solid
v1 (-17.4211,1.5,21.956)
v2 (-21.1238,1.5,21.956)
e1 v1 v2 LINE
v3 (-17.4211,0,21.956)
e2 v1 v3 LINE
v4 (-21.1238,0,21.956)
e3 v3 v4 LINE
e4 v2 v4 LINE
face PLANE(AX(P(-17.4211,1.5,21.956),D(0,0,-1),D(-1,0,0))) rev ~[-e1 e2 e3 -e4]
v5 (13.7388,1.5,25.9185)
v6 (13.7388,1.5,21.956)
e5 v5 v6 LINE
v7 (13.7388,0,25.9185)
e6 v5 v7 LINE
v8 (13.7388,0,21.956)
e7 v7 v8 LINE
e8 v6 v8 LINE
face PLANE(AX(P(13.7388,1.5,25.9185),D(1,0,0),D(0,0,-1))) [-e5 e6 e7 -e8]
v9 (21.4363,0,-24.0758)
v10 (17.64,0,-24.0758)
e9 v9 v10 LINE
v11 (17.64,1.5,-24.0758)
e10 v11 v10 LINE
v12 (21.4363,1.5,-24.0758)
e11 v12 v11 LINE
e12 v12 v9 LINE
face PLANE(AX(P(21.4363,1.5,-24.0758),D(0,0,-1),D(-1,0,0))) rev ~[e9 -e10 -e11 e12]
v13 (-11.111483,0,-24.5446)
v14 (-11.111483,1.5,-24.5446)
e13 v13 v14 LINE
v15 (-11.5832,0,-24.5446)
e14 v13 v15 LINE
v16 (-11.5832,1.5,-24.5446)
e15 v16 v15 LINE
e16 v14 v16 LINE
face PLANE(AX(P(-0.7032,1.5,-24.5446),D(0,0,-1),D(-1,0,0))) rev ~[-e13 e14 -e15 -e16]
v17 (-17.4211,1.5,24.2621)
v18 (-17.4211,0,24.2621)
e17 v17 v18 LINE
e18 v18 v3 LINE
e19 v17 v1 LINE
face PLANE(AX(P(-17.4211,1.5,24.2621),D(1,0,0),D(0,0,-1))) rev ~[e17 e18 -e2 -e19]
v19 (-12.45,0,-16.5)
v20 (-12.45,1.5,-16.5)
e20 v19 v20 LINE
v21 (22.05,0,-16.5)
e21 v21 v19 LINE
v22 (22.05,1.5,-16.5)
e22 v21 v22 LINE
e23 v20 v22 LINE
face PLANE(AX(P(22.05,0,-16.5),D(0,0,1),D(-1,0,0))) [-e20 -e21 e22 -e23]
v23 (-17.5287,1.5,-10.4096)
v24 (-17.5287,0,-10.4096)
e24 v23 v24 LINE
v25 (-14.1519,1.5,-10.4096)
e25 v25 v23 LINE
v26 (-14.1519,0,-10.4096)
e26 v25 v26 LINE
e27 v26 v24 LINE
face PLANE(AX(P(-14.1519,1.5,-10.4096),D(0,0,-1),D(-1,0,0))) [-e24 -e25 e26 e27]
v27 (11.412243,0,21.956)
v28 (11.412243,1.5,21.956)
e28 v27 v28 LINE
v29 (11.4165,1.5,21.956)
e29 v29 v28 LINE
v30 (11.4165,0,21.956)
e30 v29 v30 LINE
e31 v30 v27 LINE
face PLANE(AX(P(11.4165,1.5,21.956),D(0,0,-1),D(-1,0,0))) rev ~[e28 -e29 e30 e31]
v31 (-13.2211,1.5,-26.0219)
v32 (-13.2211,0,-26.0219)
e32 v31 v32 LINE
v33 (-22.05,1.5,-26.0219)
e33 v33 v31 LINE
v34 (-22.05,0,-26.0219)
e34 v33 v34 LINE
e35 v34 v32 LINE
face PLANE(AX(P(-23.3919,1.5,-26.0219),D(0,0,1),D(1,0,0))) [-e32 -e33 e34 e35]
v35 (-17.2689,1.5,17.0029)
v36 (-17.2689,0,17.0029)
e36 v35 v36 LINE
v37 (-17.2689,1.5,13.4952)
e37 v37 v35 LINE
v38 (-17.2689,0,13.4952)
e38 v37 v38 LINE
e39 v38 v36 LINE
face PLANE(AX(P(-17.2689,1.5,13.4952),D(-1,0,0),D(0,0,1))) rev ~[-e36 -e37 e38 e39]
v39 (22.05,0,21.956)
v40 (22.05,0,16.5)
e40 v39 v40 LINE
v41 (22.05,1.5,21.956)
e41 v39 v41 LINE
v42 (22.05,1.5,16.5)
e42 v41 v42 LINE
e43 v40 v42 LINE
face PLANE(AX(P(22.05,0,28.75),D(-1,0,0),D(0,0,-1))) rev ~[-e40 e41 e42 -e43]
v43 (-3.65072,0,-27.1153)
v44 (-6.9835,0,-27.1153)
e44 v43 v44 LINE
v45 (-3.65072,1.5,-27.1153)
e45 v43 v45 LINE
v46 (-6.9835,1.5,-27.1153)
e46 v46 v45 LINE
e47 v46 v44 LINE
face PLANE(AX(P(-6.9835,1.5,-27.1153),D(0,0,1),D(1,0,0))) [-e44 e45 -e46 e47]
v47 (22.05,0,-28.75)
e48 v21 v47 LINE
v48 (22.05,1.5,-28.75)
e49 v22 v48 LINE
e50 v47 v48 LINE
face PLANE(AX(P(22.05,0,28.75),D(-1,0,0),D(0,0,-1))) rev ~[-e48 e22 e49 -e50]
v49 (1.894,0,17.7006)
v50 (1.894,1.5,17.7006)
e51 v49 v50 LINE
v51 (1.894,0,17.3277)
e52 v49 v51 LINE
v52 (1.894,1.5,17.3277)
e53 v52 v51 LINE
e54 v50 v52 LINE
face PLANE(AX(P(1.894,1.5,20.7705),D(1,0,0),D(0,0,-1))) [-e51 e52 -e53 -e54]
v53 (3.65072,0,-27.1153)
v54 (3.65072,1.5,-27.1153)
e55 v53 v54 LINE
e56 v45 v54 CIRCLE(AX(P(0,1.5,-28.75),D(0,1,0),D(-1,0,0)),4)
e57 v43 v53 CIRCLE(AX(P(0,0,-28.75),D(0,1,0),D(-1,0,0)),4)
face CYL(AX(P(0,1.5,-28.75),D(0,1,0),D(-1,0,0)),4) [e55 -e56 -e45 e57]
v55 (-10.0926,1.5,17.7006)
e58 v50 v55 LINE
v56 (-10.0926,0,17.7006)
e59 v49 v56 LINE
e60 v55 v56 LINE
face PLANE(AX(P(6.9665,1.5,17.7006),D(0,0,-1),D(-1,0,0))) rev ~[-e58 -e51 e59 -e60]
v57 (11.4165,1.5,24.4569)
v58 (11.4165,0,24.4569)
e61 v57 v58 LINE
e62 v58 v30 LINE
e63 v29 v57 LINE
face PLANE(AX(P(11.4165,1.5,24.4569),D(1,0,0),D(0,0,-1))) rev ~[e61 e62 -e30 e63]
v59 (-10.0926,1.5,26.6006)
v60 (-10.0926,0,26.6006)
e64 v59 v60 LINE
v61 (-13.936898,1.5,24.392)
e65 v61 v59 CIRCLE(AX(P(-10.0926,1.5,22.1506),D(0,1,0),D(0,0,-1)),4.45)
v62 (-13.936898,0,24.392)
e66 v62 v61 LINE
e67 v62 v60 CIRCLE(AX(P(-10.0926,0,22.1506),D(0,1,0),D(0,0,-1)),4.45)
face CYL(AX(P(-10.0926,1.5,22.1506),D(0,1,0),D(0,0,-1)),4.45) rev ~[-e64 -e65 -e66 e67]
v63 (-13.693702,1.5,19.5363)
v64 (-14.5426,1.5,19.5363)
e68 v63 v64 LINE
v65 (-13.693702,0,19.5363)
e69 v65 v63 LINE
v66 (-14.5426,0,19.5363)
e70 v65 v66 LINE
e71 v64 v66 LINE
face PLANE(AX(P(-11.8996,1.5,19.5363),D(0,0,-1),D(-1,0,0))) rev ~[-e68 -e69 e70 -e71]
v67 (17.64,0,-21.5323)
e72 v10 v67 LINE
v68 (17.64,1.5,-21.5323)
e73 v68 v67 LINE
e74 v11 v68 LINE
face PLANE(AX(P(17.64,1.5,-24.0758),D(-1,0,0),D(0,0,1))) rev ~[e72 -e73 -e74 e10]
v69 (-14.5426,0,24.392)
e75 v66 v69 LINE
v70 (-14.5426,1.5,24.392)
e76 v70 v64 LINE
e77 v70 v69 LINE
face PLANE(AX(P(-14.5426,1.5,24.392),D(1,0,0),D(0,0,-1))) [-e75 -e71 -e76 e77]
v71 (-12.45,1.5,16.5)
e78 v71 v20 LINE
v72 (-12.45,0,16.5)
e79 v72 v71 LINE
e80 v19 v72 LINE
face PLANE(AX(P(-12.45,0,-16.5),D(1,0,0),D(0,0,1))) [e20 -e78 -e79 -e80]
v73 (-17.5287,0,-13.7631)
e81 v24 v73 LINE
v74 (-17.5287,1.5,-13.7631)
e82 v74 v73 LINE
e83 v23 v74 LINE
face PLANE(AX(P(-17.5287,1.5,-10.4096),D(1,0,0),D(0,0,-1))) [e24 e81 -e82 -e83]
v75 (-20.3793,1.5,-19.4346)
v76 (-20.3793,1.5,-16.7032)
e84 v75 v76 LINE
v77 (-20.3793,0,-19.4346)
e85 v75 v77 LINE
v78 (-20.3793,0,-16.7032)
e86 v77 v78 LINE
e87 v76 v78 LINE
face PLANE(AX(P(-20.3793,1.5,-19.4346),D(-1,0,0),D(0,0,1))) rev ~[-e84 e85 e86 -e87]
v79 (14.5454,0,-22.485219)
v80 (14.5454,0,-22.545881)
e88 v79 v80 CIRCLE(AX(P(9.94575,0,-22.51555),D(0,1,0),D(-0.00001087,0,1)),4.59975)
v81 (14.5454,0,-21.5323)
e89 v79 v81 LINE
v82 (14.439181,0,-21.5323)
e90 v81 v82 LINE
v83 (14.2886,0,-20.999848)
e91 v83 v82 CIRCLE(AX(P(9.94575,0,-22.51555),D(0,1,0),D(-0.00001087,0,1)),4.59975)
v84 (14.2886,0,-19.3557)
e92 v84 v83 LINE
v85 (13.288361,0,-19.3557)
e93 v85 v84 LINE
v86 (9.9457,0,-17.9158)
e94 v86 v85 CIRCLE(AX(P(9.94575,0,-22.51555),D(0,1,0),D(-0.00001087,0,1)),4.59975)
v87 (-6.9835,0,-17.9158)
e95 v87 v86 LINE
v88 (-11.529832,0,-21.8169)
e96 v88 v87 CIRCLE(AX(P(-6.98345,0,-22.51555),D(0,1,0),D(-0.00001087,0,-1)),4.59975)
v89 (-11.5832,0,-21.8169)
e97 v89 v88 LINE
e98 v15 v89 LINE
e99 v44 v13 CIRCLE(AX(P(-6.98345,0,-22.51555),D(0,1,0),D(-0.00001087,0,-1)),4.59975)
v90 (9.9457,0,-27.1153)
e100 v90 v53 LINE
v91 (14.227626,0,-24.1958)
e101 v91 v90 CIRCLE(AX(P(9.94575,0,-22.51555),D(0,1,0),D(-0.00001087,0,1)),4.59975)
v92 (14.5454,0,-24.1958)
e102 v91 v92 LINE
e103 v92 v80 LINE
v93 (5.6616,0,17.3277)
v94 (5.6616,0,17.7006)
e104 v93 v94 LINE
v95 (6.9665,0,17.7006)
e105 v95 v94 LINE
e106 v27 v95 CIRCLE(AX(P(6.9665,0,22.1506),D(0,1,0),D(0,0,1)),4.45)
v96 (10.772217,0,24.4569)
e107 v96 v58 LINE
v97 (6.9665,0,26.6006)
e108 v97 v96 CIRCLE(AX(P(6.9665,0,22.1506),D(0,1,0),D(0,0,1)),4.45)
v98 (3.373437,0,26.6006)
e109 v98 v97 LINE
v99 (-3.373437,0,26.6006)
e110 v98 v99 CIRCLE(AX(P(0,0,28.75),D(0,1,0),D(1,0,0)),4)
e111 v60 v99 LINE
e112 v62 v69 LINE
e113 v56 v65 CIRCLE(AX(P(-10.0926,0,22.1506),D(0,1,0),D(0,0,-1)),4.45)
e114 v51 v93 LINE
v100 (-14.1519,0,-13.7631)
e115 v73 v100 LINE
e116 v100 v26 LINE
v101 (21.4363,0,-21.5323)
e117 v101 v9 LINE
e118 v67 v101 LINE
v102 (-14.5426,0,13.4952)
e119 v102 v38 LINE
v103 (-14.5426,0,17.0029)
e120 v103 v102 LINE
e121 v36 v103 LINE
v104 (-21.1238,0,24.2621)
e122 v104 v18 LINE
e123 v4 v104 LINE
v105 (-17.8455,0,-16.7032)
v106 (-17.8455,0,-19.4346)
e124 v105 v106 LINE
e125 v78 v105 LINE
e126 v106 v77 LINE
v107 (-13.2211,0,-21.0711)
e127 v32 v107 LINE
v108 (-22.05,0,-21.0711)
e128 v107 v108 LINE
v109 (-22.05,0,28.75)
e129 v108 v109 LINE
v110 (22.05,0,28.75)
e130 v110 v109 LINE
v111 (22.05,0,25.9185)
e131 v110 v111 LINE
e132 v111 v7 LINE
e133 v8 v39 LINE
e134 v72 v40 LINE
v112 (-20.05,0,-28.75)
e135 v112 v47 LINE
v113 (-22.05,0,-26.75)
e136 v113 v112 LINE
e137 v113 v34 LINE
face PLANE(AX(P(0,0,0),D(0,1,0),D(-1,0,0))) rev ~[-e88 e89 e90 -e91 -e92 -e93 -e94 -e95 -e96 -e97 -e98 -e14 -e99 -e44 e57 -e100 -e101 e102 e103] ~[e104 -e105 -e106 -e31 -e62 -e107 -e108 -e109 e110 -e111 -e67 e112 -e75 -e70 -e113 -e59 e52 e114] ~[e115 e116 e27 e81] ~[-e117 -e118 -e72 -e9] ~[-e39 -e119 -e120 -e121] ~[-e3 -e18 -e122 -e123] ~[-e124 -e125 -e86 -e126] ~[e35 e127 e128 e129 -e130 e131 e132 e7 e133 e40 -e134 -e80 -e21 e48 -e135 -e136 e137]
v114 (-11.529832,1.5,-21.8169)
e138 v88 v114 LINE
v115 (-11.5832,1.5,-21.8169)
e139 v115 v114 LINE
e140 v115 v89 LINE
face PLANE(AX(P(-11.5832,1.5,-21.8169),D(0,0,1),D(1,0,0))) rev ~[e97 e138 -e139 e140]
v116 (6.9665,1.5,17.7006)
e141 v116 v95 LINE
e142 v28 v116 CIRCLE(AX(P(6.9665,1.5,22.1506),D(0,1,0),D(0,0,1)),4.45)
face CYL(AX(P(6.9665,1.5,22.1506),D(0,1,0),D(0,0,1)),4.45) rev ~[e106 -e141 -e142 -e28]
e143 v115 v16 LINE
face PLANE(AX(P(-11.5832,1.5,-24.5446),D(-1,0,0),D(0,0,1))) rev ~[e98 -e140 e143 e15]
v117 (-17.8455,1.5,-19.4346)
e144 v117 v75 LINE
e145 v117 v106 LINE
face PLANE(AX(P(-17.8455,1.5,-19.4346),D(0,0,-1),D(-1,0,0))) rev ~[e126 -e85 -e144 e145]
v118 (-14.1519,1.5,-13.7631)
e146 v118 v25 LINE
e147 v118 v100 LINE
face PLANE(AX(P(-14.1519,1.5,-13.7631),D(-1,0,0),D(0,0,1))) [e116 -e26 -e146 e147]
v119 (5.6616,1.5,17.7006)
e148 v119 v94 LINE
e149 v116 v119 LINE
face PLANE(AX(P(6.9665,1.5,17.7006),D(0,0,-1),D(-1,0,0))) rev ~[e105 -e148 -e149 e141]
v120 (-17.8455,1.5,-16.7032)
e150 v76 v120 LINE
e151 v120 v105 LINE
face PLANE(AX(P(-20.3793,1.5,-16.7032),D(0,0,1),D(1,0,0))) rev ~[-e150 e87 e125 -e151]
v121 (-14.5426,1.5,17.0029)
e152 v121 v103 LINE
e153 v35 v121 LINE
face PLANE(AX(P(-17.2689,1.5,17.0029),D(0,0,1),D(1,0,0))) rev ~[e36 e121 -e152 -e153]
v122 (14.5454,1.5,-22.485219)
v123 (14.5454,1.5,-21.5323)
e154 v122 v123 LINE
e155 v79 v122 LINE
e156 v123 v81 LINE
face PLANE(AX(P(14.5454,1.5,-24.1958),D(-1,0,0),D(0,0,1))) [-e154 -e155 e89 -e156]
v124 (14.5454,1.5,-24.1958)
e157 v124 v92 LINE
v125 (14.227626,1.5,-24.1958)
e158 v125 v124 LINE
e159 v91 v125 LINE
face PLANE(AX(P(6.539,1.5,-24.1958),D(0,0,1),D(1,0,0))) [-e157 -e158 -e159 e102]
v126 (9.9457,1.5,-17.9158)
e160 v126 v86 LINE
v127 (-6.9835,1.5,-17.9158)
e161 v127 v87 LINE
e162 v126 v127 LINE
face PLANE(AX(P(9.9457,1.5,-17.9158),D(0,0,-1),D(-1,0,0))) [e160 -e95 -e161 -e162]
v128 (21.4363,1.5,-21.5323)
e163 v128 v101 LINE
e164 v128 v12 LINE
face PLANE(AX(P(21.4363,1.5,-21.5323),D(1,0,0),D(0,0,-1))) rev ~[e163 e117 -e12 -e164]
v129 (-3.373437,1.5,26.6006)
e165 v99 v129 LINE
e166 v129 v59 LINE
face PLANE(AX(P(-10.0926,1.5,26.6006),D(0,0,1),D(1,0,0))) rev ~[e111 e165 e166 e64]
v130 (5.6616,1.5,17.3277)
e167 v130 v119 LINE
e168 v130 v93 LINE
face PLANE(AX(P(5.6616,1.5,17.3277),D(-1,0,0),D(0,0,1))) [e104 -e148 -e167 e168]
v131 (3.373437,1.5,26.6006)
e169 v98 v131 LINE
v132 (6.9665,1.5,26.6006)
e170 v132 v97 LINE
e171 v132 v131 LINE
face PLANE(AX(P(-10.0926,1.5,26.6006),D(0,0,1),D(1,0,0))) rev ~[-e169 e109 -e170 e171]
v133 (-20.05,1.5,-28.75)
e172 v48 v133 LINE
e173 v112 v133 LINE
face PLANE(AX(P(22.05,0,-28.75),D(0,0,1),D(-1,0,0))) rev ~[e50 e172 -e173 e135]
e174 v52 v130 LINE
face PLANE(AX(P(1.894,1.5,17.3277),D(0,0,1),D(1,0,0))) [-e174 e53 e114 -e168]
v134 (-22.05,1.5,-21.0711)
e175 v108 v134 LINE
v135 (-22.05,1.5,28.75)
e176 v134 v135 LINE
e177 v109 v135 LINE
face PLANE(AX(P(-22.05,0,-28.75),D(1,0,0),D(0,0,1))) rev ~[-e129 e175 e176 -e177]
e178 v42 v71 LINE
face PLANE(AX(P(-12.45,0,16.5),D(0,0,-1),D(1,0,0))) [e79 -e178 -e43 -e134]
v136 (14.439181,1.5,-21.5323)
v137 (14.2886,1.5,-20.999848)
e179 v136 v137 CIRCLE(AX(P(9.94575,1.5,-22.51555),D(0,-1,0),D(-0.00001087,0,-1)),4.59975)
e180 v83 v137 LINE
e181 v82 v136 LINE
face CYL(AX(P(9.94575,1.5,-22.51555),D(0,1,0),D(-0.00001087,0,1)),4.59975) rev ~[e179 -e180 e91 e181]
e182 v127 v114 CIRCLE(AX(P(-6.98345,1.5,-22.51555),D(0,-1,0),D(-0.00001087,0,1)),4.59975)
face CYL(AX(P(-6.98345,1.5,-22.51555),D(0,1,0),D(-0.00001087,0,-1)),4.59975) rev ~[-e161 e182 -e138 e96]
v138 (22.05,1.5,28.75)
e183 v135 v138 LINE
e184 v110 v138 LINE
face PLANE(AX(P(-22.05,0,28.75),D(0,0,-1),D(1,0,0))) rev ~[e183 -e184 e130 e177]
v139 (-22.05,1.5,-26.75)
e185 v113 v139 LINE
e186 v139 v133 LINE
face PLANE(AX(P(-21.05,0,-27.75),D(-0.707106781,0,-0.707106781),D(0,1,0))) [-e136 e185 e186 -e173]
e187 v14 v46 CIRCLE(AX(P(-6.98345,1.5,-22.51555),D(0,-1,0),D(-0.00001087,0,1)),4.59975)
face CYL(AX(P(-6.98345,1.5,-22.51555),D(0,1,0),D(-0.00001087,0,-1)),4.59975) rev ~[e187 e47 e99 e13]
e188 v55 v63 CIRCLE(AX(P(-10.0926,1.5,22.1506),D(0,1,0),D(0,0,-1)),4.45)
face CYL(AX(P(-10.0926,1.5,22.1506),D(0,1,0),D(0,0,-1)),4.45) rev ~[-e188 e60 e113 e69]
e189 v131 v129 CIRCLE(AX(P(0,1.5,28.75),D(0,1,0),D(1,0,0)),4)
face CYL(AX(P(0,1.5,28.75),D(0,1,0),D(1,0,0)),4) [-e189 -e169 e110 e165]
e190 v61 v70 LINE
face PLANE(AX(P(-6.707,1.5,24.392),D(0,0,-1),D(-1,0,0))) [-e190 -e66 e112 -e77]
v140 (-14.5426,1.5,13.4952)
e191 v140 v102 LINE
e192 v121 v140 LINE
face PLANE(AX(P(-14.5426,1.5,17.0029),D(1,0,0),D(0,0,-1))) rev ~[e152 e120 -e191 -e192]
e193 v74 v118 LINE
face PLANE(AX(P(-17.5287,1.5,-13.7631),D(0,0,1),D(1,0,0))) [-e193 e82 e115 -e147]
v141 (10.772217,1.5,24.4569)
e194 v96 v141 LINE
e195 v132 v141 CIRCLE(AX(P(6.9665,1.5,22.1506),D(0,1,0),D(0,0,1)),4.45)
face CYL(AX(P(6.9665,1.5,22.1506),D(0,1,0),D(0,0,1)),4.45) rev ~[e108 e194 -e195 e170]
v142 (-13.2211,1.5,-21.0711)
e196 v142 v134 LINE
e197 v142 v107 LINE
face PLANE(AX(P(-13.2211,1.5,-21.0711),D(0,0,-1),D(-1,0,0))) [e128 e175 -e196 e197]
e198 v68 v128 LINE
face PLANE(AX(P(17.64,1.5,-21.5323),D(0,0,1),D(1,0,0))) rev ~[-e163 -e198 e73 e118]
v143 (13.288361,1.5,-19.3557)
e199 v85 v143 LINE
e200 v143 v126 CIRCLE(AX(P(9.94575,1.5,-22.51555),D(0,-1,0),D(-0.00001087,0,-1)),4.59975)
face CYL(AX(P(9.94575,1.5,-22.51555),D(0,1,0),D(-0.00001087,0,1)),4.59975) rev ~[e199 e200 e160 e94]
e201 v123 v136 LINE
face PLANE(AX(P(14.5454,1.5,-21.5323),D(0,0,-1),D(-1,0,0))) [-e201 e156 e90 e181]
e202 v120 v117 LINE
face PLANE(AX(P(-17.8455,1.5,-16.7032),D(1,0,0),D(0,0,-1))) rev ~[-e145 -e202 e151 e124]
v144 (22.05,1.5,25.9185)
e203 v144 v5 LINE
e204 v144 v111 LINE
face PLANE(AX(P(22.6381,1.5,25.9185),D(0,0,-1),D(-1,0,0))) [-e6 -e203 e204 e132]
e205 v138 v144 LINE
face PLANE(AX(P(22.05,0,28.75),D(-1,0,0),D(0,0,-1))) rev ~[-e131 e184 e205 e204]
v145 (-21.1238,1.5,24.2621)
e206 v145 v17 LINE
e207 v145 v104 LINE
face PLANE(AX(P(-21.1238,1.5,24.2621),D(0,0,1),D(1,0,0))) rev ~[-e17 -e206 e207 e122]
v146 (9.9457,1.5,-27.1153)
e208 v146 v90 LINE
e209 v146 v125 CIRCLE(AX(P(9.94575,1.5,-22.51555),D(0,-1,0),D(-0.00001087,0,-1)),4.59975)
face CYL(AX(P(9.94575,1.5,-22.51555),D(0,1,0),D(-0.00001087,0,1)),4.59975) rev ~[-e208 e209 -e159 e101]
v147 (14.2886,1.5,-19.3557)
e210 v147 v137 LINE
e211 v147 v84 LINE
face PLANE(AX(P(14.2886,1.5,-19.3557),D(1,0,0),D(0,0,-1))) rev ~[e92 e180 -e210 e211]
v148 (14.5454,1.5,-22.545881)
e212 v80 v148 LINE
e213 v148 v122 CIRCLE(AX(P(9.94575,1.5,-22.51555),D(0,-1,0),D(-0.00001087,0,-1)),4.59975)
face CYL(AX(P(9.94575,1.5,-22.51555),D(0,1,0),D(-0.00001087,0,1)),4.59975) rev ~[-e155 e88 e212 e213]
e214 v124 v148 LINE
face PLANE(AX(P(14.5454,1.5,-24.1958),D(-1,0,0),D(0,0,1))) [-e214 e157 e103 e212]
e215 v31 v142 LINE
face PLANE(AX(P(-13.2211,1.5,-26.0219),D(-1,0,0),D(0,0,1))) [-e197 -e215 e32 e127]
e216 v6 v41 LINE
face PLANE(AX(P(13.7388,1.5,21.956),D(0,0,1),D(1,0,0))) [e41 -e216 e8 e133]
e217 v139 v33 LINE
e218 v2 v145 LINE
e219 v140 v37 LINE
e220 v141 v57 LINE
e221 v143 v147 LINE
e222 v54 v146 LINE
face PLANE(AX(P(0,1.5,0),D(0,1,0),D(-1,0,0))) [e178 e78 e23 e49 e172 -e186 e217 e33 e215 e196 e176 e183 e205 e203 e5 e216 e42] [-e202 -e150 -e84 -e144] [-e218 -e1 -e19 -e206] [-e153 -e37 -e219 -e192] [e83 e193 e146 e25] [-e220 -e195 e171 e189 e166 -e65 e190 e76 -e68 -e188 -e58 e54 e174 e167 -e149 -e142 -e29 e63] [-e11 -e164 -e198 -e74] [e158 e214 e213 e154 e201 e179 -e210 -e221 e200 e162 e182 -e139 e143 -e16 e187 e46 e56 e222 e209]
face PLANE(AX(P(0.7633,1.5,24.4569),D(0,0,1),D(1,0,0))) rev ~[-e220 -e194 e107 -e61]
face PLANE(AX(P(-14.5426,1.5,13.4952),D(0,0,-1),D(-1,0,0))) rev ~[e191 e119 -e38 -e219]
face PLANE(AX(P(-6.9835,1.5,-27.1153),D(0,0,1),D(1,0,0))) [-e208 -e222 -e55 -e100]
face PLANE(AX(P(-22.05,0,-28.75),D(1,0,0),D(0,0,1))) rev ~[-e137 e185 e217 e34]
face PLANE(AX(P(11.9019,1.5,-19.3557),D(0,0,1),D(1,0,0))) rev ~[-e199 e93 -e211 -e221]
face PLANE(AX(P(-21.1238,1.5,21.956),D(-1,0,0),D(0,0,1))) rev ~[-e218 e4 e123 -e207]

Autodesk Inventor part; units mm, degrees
ref_plane "YZ Plane" through (0, 0, 0) normal (1, 0, 0) x (0, 1, 0)
ref_plane "XZ Plane" through (0, 0, 0) normal (0, 1, 0) x (-1, 0, 0)
ref_plane "XY Plane" through (0, 0, 0) normal (0, 0, 1) x (1, 0, 0)
sketch "Sketch1" plane through (0, 0, 0) normal (0, 1, 0) x (-1, 0, 0)
  line L0 (-22.05, -28.75) -> (22.05, -28.75)
  line L1 (22.05, -28.75) -> (22.05, 28.75)
  line L2 (22.05, 28.75) -> (-22.05, 28.75)
  line L3 (-22.05, 28.75) -> (-22.05, -28.75)
  line L4 (-22.05, -28.75) -> (22.05, 28.75) construction
  line L5 (22.05, -28.75) -> (-22.05, 28.75) construction
  point P0 (0, 0)
  dimension "d0" = 57.5
  dimension "d1" = 44.1
extrude "Extrusion1" add sketch "Sketch1" along normal blind 1.5
chamfer "Chamfer1" distance 2 angle 45 1 edges at (-22.05, 0.75, -28.75)
sketch "Sketch4" plane through (0, 1.5, 0) normal (0, 1, 0) x (1, 0, 0)
  line L0 (22.6381, -25.9185) -> (13.7388, -25.9185)
  line L1 (13.7388, -25.9185) -> (13.7388, -21.956)
  line L2 (13.7388, -21.956) -> (22.6381, -21.956)
  line L3 (22.6381, -21.956) -> (22.6381, -25.9185)
  line L4 (11.4165, -21.956) -> (0.7633, -21.956)
  line L5 (0.7633, -21.956) -> (0.7633, -24.4569)
  line L6 (0.7633, -24.4569) -> (11.4165, -24.4569)
  line L7 (11.4165, -24.4569) -> (11.4165, -21.956)
  line L8 (-0.6658, -26.6006) -> (-6.707, -26.6006)
  line L9 (-6.707, -26.6006) -> (-6.707, -22.3783)
  line L10 (-6.707, -22.3783) -> (-0.6658, -22.3783)
  line L11 (-0.6658, -22.3783) -> (-0.6658, -26.6006)
  line L12 (-6.707, -24.392) -> (-14.5426, -24.392)
  line L13 (-14.5426, -24.392) -> (-14.5426, -21.0953)
  line L14 (-14.5426, -21.0953) -> (-6.707, -21.0953)
  line L15 (-6.707, -21.0953) -> (-6.707, -24.392)
  line L16 (-14.5426, -21.0953) -> (-11.8996, -21.0953)
  line L17 (-11.8996, -21.0953) -> (-11.8996, -19.5363)
  line L18 (-11.8996, -19.5363) -> (-14.5426, -19.5363)
  line L19 (-14.5426, -19.5363) -> (-14.5426, -21.0953)
  line L20 (-21.1238, -24.2621) -> (-17.4211, -24.2621)
  line L21 (-17.4211, -24.2621) -> (-17.4211, -21.956)
  line L22 (-17.4211, -21.956) -> (-21.1238, -21.956)
  line L23 (-21.1238, -21.956) -> (-21.1238, -24.2621)
  line L24 (5.6616, -20.7705) -> (1.894, -20.7705)
  line L25 (1.894, -20.7705) -> (1.894, -17.3277)
  line L26 (1.894, -17.3277) -> (5.6616, -17.3277)
  line L27 (5.6616, -17.3277) -> (5.6616, -20.7705)
  line L28 (-2.848, -19.9261) -> (-5.2515, -19.9261)
  line L29 (-5.2515, -19.9261) -> (-5.2515, -18.3346)
  line L30 (-5.2515, -18.3346) -> (-2.848, -18.3346)
  line L31 (-2.848, -18.3346) -> (-2.848, -19.9261)
  line L32 (-17.2689, -17.0029) -> (-14.5426, -17.0029)
  line L33 (-14.5426, -17.0029) -> (-14.5426, -13.4952)
  line L34 (-14.5426, -13.4952) -> (-17.2689, -13.4952)
  line L35 (-17.2689, -13.4952) -> (-17.2689, -17.0029)
  line L36 (15.925, -11.4814) -> (12.4173, -11.4814)
  line L37 (12.4173, -11.4814) -> (12.4173, -14.7294)
  line L38 (12.4173, -14.7294) -> (15.925, -14.7294)
  line L39 (15.925, -14.7294) -> (15.925, -11.4814)
  line L40 (-2.1335, 9.0455) -> (1.894, 9.0455)
  line L41 (1.894, 9.0455) -> (1.894, -8.9481)
  line L42 (1.894, -8.9481) -> (-2.1335, -8.9481)
  line L43 (-2.1335, -8.9481) -> (-2.1335, 9.0455)
  line L44 (4.5573, 3.3291) -> (1.6991, 3.3291)
  line L45 (1.6991, 3.3291) -> (1.6991, 0.6009)
  line L46 (1.6991, 0.6009) -> (4.5573, 0.6009)
  line L47 (4.5573, 0.6009) -> (4.5573, 3.3291)
  line L48 (-17.5287, 13.7631) -> (-14.1519, 13.7631)
  line L49 (-14.1519, 13.7631) -> (-14.1519, 10.4096)
  line L50 (-14.1519, 10.4096) -> (-17.5287, 10.4096)
  line L51 (-17.5287, 10.4096) -> (-17.5287, 13.7631)
  line L52 (16.8052, 16.3739) -> (14.7212, 16.3739)
  line L53 (14.7212, 16.3739) -> (14.7212, 12.4259)
  line L54 (14.7212, 12.4259) -> (16.8052, 12.4259)
  line L55 (16.8052, 12.4259) -> (16.8052, 16.3739)
  line L56 (-23.3919, 26.0219) -> (-13.2211, 26.0219)
  line L57 (-13.2211, 26.0219) -> (-13.2211, 21.0711)
  line L58 (-13.2211, 21.0711) -> (-23.3919, 21.0711)
  line L59 (-23.3919, 21.0711) -> (-23.3919, 26.0219)
  line L60 (-20.3793, 16.7032) -> (-17.8455, 16.7032)
  line L61 (-17.8455, 16.7032) -> (-17.8455, 19.4346)
  line L62 (-17.8455, 19.4346) -> (-20.3793, 19.4346)
  line L63 (-20.3793, 19.4346) -> (-20.3793, 16.7032)
  line L64 (-11.5832, 21.8169) -> (-0.7032, 21.8169)
  line L65 (-0.7032, 21.8169) -> (-0.7032, 24.5446)
  line L66 (-0.7032, 24.5446) -> (-11.5832, 24.5446)
  line L67 (-11.5832, 24.5446) -> (-11.5832, 21.8169)
  line L68 (-2.5673, 18.6812) -> (-4.8458, 18.6812)
  line L69 (-4.8458, 18.6812) -> (-4.8458, 22.2038)
  line L70 (-4.8458, 22.2038) -> (-2.5673, 22.2038)
  line L71 (-2.5673, 22.2038) -> (-2.5673, 18.6812)
  line L72 (0.9146, 27.1153) -> (6.539, 27.1153)
  line L73 (6.539, 27.1153) -> (6.539, 22.2038)
  line L74 (6.539, 22.2038) -> (0.9146, 22.2038)
  line L75 (0.9146, 22.2038) -> (0.9146, 27.1153)
  line L76 (2.2307, 17.9158) -> (4.5573, 17.9158)
  line L77 (4.5573, 17.9158) -> (4.5573, 22.2038)
  line L78 (4.5573, 22.2038) -> (2.2307, 22.2038)
  line L79 (2.2307, 22.2038) -> (2.2307, 17.9158)
  line L80 (6.0899, 24.1958) -> (14.5454, 24.1958)
  line L81 (14.5454, 24.1958) -> (14.5454, 21.5323)
  line L82 (14.5454, 21.5323) -> (6.0899, 21.5323)
  line L83 (6.0899, 21.5323) -> (6.0899, 24.1958)
  line L84 (14.2886, 21.5323) -> (11.9019, 21.5323)
  line L85 (11.9019, 21.5323) -> (11.9019, 19.3557)
  line L86 (11.9019, 19.3557) -> (14.2886, 19.3557)
  line L87 (14.2886, 19.3557) -> (14.2886, 21.5323)
  line L88 (21.4363, 24.0758) -> (17.64, 24.0758)
  line L89 (17.64, 24.0758) -> (17.64, 21.5323)
  line L90 (17.64, 21.5323) -> (21.4363, 21.5323)
  line L91 (21.4363, 21.5323) -> (21.4363, 24.0758)
  point P0 (0, 0)
  point P1 (6.539, 24.1958)
  point P2 (6.0899, 22.2038)
extrude "Clearance Cutouts" cut sketch "Sketch4" against normal blind 1.5
sketch "Sketch5" plane through (0, 1.5, 0) normal (0, 1, 0) x (1, 0, 0)
  line L0 (9.9457, 22.5156) -> (-6.9835, 22.5156) construction
  line L1 (9.9457, 17.9158) -> (-6.9835, 17.9158)
  line L2 (-6.9835, 27.1153) -> (9.9457, 27.1153)
  arc A0 (9.9457, 17.9158) -> (9.9457, 27.1153) centre (9.9457, 22.5156) ccw
  arc A1 (-6.9835, 27.1153) -> (-6.9835, 17.9158) centre (-6.9835, 22.5156) ccw
  line L3 (-11.5832, 24.5446) -> (-0.7032, 24.5446) projected
  line L4 (0.9146, 22.2038) -> (0.9146, 27.1153) projected
  line L5 (-13.2211, 26.0219) -> (-13.2211, 21.0711) projected
  line L6 (-11.5832, 21.8169) -> (-11.5832, 24.5446) projected
  line L7 (14.5454, 24.1958) -> (14.5454, 21.5323) projected
  line L8 (-10.0926, -22.1506) -> (6.9665, -22.1506) construction
  line L9 (-10.0926, -26.6006) -> (6.9665, -26.6006)
  line L10 (6.9665, -17.7006) -> (-10.0926, -17.7006)
  arc A2 (-10.0926, -17.7006) -> (-10.0926, -26.6006) centre (-10.0926, -22.1506) ccw
  arc A3 (6.9665, -26.6006) -> (6.9665, -17.7006) centre (6.9665, -22.1506) ccw
  point P0 (0, 0)
  point P1 (1.4811, 22.5156)
  point P2 (14.5454, 22.5156)
  point P3 (-11.5832, 22.5156)
  point P4 (4.5573, 17.9158)
  point P5 (-1.5631, -22.1506)
  point P6 (-0.6658, -26.6006)
  point P7 (11.4165, -22.1506)
  point P8 (11.4165, -24.4569)
  point P9 (-14.5426, -22.1506)
  point P10 (-14.5426, -19.5363)
  dimension "d53" = 8.9
extrude "Extrusion4" cut sketch "Sketch5" against normal blind 1.5 contours L1 A1 L2 A0 | A2 L10 A3 L9
sketch "Sketch6" plane through (0, 0, 0) normal (0, -1, 0) x (1, 0, 0)
  line L0 (22.05, 21.956) -> (22.05, -28.75) projected
  line L1 (22.05, -16.5) -> (-12.45, -16.5)
  line L2 (-12.45, -16.5) -> (-12.45, 16.5)
  line L3 (-12.45, 16.5) -> (22.05, 16.5)
  line L4 (22.05, 16.5) -> (22.05, -16.5)
  point P0 (0, 0)
  point P1 (22.05, 16.5)
  dimension "d44" = 33
  dimension "d45" = 34.5
  dimension "d46" = 16.5
extrude "Extrusion5" cut sketch "Sketch6" against normal through all
sketch "Sketch7" plane through (0, 1.5, 0) normal (0, 1, 0) x (1, 0, 0)
  line L0 (-22.05, -28.75) -> (22.05, -28.75) projected
  arc A0 (4, -28.75) -> (-4, -28.75) centre (0, -28.75) ccw
  line L1 (22.05, 28.75) -> (-20.05, 28.75) projected
  arc A1 (-4, 28.75) -> (4, 28.75) centre (0, 28.75) ccw
  line L2 (22.05, 28.75) -> (-20.05, 28.75) projected
  point P0 (0, 0)
  point P1 (4, 28.75)
  dimension "d49" = 4
  dimension "d50" = 4
extrude "Extrusion6" add sketch "Sketch7" against normal up to surface (1.5 mm away)
equation "\"d46\" = 0.5 * d44"
equation "\"d50\" = d49"
properties part number "Flex Holder V1" material "Thermoplastic Resin"
